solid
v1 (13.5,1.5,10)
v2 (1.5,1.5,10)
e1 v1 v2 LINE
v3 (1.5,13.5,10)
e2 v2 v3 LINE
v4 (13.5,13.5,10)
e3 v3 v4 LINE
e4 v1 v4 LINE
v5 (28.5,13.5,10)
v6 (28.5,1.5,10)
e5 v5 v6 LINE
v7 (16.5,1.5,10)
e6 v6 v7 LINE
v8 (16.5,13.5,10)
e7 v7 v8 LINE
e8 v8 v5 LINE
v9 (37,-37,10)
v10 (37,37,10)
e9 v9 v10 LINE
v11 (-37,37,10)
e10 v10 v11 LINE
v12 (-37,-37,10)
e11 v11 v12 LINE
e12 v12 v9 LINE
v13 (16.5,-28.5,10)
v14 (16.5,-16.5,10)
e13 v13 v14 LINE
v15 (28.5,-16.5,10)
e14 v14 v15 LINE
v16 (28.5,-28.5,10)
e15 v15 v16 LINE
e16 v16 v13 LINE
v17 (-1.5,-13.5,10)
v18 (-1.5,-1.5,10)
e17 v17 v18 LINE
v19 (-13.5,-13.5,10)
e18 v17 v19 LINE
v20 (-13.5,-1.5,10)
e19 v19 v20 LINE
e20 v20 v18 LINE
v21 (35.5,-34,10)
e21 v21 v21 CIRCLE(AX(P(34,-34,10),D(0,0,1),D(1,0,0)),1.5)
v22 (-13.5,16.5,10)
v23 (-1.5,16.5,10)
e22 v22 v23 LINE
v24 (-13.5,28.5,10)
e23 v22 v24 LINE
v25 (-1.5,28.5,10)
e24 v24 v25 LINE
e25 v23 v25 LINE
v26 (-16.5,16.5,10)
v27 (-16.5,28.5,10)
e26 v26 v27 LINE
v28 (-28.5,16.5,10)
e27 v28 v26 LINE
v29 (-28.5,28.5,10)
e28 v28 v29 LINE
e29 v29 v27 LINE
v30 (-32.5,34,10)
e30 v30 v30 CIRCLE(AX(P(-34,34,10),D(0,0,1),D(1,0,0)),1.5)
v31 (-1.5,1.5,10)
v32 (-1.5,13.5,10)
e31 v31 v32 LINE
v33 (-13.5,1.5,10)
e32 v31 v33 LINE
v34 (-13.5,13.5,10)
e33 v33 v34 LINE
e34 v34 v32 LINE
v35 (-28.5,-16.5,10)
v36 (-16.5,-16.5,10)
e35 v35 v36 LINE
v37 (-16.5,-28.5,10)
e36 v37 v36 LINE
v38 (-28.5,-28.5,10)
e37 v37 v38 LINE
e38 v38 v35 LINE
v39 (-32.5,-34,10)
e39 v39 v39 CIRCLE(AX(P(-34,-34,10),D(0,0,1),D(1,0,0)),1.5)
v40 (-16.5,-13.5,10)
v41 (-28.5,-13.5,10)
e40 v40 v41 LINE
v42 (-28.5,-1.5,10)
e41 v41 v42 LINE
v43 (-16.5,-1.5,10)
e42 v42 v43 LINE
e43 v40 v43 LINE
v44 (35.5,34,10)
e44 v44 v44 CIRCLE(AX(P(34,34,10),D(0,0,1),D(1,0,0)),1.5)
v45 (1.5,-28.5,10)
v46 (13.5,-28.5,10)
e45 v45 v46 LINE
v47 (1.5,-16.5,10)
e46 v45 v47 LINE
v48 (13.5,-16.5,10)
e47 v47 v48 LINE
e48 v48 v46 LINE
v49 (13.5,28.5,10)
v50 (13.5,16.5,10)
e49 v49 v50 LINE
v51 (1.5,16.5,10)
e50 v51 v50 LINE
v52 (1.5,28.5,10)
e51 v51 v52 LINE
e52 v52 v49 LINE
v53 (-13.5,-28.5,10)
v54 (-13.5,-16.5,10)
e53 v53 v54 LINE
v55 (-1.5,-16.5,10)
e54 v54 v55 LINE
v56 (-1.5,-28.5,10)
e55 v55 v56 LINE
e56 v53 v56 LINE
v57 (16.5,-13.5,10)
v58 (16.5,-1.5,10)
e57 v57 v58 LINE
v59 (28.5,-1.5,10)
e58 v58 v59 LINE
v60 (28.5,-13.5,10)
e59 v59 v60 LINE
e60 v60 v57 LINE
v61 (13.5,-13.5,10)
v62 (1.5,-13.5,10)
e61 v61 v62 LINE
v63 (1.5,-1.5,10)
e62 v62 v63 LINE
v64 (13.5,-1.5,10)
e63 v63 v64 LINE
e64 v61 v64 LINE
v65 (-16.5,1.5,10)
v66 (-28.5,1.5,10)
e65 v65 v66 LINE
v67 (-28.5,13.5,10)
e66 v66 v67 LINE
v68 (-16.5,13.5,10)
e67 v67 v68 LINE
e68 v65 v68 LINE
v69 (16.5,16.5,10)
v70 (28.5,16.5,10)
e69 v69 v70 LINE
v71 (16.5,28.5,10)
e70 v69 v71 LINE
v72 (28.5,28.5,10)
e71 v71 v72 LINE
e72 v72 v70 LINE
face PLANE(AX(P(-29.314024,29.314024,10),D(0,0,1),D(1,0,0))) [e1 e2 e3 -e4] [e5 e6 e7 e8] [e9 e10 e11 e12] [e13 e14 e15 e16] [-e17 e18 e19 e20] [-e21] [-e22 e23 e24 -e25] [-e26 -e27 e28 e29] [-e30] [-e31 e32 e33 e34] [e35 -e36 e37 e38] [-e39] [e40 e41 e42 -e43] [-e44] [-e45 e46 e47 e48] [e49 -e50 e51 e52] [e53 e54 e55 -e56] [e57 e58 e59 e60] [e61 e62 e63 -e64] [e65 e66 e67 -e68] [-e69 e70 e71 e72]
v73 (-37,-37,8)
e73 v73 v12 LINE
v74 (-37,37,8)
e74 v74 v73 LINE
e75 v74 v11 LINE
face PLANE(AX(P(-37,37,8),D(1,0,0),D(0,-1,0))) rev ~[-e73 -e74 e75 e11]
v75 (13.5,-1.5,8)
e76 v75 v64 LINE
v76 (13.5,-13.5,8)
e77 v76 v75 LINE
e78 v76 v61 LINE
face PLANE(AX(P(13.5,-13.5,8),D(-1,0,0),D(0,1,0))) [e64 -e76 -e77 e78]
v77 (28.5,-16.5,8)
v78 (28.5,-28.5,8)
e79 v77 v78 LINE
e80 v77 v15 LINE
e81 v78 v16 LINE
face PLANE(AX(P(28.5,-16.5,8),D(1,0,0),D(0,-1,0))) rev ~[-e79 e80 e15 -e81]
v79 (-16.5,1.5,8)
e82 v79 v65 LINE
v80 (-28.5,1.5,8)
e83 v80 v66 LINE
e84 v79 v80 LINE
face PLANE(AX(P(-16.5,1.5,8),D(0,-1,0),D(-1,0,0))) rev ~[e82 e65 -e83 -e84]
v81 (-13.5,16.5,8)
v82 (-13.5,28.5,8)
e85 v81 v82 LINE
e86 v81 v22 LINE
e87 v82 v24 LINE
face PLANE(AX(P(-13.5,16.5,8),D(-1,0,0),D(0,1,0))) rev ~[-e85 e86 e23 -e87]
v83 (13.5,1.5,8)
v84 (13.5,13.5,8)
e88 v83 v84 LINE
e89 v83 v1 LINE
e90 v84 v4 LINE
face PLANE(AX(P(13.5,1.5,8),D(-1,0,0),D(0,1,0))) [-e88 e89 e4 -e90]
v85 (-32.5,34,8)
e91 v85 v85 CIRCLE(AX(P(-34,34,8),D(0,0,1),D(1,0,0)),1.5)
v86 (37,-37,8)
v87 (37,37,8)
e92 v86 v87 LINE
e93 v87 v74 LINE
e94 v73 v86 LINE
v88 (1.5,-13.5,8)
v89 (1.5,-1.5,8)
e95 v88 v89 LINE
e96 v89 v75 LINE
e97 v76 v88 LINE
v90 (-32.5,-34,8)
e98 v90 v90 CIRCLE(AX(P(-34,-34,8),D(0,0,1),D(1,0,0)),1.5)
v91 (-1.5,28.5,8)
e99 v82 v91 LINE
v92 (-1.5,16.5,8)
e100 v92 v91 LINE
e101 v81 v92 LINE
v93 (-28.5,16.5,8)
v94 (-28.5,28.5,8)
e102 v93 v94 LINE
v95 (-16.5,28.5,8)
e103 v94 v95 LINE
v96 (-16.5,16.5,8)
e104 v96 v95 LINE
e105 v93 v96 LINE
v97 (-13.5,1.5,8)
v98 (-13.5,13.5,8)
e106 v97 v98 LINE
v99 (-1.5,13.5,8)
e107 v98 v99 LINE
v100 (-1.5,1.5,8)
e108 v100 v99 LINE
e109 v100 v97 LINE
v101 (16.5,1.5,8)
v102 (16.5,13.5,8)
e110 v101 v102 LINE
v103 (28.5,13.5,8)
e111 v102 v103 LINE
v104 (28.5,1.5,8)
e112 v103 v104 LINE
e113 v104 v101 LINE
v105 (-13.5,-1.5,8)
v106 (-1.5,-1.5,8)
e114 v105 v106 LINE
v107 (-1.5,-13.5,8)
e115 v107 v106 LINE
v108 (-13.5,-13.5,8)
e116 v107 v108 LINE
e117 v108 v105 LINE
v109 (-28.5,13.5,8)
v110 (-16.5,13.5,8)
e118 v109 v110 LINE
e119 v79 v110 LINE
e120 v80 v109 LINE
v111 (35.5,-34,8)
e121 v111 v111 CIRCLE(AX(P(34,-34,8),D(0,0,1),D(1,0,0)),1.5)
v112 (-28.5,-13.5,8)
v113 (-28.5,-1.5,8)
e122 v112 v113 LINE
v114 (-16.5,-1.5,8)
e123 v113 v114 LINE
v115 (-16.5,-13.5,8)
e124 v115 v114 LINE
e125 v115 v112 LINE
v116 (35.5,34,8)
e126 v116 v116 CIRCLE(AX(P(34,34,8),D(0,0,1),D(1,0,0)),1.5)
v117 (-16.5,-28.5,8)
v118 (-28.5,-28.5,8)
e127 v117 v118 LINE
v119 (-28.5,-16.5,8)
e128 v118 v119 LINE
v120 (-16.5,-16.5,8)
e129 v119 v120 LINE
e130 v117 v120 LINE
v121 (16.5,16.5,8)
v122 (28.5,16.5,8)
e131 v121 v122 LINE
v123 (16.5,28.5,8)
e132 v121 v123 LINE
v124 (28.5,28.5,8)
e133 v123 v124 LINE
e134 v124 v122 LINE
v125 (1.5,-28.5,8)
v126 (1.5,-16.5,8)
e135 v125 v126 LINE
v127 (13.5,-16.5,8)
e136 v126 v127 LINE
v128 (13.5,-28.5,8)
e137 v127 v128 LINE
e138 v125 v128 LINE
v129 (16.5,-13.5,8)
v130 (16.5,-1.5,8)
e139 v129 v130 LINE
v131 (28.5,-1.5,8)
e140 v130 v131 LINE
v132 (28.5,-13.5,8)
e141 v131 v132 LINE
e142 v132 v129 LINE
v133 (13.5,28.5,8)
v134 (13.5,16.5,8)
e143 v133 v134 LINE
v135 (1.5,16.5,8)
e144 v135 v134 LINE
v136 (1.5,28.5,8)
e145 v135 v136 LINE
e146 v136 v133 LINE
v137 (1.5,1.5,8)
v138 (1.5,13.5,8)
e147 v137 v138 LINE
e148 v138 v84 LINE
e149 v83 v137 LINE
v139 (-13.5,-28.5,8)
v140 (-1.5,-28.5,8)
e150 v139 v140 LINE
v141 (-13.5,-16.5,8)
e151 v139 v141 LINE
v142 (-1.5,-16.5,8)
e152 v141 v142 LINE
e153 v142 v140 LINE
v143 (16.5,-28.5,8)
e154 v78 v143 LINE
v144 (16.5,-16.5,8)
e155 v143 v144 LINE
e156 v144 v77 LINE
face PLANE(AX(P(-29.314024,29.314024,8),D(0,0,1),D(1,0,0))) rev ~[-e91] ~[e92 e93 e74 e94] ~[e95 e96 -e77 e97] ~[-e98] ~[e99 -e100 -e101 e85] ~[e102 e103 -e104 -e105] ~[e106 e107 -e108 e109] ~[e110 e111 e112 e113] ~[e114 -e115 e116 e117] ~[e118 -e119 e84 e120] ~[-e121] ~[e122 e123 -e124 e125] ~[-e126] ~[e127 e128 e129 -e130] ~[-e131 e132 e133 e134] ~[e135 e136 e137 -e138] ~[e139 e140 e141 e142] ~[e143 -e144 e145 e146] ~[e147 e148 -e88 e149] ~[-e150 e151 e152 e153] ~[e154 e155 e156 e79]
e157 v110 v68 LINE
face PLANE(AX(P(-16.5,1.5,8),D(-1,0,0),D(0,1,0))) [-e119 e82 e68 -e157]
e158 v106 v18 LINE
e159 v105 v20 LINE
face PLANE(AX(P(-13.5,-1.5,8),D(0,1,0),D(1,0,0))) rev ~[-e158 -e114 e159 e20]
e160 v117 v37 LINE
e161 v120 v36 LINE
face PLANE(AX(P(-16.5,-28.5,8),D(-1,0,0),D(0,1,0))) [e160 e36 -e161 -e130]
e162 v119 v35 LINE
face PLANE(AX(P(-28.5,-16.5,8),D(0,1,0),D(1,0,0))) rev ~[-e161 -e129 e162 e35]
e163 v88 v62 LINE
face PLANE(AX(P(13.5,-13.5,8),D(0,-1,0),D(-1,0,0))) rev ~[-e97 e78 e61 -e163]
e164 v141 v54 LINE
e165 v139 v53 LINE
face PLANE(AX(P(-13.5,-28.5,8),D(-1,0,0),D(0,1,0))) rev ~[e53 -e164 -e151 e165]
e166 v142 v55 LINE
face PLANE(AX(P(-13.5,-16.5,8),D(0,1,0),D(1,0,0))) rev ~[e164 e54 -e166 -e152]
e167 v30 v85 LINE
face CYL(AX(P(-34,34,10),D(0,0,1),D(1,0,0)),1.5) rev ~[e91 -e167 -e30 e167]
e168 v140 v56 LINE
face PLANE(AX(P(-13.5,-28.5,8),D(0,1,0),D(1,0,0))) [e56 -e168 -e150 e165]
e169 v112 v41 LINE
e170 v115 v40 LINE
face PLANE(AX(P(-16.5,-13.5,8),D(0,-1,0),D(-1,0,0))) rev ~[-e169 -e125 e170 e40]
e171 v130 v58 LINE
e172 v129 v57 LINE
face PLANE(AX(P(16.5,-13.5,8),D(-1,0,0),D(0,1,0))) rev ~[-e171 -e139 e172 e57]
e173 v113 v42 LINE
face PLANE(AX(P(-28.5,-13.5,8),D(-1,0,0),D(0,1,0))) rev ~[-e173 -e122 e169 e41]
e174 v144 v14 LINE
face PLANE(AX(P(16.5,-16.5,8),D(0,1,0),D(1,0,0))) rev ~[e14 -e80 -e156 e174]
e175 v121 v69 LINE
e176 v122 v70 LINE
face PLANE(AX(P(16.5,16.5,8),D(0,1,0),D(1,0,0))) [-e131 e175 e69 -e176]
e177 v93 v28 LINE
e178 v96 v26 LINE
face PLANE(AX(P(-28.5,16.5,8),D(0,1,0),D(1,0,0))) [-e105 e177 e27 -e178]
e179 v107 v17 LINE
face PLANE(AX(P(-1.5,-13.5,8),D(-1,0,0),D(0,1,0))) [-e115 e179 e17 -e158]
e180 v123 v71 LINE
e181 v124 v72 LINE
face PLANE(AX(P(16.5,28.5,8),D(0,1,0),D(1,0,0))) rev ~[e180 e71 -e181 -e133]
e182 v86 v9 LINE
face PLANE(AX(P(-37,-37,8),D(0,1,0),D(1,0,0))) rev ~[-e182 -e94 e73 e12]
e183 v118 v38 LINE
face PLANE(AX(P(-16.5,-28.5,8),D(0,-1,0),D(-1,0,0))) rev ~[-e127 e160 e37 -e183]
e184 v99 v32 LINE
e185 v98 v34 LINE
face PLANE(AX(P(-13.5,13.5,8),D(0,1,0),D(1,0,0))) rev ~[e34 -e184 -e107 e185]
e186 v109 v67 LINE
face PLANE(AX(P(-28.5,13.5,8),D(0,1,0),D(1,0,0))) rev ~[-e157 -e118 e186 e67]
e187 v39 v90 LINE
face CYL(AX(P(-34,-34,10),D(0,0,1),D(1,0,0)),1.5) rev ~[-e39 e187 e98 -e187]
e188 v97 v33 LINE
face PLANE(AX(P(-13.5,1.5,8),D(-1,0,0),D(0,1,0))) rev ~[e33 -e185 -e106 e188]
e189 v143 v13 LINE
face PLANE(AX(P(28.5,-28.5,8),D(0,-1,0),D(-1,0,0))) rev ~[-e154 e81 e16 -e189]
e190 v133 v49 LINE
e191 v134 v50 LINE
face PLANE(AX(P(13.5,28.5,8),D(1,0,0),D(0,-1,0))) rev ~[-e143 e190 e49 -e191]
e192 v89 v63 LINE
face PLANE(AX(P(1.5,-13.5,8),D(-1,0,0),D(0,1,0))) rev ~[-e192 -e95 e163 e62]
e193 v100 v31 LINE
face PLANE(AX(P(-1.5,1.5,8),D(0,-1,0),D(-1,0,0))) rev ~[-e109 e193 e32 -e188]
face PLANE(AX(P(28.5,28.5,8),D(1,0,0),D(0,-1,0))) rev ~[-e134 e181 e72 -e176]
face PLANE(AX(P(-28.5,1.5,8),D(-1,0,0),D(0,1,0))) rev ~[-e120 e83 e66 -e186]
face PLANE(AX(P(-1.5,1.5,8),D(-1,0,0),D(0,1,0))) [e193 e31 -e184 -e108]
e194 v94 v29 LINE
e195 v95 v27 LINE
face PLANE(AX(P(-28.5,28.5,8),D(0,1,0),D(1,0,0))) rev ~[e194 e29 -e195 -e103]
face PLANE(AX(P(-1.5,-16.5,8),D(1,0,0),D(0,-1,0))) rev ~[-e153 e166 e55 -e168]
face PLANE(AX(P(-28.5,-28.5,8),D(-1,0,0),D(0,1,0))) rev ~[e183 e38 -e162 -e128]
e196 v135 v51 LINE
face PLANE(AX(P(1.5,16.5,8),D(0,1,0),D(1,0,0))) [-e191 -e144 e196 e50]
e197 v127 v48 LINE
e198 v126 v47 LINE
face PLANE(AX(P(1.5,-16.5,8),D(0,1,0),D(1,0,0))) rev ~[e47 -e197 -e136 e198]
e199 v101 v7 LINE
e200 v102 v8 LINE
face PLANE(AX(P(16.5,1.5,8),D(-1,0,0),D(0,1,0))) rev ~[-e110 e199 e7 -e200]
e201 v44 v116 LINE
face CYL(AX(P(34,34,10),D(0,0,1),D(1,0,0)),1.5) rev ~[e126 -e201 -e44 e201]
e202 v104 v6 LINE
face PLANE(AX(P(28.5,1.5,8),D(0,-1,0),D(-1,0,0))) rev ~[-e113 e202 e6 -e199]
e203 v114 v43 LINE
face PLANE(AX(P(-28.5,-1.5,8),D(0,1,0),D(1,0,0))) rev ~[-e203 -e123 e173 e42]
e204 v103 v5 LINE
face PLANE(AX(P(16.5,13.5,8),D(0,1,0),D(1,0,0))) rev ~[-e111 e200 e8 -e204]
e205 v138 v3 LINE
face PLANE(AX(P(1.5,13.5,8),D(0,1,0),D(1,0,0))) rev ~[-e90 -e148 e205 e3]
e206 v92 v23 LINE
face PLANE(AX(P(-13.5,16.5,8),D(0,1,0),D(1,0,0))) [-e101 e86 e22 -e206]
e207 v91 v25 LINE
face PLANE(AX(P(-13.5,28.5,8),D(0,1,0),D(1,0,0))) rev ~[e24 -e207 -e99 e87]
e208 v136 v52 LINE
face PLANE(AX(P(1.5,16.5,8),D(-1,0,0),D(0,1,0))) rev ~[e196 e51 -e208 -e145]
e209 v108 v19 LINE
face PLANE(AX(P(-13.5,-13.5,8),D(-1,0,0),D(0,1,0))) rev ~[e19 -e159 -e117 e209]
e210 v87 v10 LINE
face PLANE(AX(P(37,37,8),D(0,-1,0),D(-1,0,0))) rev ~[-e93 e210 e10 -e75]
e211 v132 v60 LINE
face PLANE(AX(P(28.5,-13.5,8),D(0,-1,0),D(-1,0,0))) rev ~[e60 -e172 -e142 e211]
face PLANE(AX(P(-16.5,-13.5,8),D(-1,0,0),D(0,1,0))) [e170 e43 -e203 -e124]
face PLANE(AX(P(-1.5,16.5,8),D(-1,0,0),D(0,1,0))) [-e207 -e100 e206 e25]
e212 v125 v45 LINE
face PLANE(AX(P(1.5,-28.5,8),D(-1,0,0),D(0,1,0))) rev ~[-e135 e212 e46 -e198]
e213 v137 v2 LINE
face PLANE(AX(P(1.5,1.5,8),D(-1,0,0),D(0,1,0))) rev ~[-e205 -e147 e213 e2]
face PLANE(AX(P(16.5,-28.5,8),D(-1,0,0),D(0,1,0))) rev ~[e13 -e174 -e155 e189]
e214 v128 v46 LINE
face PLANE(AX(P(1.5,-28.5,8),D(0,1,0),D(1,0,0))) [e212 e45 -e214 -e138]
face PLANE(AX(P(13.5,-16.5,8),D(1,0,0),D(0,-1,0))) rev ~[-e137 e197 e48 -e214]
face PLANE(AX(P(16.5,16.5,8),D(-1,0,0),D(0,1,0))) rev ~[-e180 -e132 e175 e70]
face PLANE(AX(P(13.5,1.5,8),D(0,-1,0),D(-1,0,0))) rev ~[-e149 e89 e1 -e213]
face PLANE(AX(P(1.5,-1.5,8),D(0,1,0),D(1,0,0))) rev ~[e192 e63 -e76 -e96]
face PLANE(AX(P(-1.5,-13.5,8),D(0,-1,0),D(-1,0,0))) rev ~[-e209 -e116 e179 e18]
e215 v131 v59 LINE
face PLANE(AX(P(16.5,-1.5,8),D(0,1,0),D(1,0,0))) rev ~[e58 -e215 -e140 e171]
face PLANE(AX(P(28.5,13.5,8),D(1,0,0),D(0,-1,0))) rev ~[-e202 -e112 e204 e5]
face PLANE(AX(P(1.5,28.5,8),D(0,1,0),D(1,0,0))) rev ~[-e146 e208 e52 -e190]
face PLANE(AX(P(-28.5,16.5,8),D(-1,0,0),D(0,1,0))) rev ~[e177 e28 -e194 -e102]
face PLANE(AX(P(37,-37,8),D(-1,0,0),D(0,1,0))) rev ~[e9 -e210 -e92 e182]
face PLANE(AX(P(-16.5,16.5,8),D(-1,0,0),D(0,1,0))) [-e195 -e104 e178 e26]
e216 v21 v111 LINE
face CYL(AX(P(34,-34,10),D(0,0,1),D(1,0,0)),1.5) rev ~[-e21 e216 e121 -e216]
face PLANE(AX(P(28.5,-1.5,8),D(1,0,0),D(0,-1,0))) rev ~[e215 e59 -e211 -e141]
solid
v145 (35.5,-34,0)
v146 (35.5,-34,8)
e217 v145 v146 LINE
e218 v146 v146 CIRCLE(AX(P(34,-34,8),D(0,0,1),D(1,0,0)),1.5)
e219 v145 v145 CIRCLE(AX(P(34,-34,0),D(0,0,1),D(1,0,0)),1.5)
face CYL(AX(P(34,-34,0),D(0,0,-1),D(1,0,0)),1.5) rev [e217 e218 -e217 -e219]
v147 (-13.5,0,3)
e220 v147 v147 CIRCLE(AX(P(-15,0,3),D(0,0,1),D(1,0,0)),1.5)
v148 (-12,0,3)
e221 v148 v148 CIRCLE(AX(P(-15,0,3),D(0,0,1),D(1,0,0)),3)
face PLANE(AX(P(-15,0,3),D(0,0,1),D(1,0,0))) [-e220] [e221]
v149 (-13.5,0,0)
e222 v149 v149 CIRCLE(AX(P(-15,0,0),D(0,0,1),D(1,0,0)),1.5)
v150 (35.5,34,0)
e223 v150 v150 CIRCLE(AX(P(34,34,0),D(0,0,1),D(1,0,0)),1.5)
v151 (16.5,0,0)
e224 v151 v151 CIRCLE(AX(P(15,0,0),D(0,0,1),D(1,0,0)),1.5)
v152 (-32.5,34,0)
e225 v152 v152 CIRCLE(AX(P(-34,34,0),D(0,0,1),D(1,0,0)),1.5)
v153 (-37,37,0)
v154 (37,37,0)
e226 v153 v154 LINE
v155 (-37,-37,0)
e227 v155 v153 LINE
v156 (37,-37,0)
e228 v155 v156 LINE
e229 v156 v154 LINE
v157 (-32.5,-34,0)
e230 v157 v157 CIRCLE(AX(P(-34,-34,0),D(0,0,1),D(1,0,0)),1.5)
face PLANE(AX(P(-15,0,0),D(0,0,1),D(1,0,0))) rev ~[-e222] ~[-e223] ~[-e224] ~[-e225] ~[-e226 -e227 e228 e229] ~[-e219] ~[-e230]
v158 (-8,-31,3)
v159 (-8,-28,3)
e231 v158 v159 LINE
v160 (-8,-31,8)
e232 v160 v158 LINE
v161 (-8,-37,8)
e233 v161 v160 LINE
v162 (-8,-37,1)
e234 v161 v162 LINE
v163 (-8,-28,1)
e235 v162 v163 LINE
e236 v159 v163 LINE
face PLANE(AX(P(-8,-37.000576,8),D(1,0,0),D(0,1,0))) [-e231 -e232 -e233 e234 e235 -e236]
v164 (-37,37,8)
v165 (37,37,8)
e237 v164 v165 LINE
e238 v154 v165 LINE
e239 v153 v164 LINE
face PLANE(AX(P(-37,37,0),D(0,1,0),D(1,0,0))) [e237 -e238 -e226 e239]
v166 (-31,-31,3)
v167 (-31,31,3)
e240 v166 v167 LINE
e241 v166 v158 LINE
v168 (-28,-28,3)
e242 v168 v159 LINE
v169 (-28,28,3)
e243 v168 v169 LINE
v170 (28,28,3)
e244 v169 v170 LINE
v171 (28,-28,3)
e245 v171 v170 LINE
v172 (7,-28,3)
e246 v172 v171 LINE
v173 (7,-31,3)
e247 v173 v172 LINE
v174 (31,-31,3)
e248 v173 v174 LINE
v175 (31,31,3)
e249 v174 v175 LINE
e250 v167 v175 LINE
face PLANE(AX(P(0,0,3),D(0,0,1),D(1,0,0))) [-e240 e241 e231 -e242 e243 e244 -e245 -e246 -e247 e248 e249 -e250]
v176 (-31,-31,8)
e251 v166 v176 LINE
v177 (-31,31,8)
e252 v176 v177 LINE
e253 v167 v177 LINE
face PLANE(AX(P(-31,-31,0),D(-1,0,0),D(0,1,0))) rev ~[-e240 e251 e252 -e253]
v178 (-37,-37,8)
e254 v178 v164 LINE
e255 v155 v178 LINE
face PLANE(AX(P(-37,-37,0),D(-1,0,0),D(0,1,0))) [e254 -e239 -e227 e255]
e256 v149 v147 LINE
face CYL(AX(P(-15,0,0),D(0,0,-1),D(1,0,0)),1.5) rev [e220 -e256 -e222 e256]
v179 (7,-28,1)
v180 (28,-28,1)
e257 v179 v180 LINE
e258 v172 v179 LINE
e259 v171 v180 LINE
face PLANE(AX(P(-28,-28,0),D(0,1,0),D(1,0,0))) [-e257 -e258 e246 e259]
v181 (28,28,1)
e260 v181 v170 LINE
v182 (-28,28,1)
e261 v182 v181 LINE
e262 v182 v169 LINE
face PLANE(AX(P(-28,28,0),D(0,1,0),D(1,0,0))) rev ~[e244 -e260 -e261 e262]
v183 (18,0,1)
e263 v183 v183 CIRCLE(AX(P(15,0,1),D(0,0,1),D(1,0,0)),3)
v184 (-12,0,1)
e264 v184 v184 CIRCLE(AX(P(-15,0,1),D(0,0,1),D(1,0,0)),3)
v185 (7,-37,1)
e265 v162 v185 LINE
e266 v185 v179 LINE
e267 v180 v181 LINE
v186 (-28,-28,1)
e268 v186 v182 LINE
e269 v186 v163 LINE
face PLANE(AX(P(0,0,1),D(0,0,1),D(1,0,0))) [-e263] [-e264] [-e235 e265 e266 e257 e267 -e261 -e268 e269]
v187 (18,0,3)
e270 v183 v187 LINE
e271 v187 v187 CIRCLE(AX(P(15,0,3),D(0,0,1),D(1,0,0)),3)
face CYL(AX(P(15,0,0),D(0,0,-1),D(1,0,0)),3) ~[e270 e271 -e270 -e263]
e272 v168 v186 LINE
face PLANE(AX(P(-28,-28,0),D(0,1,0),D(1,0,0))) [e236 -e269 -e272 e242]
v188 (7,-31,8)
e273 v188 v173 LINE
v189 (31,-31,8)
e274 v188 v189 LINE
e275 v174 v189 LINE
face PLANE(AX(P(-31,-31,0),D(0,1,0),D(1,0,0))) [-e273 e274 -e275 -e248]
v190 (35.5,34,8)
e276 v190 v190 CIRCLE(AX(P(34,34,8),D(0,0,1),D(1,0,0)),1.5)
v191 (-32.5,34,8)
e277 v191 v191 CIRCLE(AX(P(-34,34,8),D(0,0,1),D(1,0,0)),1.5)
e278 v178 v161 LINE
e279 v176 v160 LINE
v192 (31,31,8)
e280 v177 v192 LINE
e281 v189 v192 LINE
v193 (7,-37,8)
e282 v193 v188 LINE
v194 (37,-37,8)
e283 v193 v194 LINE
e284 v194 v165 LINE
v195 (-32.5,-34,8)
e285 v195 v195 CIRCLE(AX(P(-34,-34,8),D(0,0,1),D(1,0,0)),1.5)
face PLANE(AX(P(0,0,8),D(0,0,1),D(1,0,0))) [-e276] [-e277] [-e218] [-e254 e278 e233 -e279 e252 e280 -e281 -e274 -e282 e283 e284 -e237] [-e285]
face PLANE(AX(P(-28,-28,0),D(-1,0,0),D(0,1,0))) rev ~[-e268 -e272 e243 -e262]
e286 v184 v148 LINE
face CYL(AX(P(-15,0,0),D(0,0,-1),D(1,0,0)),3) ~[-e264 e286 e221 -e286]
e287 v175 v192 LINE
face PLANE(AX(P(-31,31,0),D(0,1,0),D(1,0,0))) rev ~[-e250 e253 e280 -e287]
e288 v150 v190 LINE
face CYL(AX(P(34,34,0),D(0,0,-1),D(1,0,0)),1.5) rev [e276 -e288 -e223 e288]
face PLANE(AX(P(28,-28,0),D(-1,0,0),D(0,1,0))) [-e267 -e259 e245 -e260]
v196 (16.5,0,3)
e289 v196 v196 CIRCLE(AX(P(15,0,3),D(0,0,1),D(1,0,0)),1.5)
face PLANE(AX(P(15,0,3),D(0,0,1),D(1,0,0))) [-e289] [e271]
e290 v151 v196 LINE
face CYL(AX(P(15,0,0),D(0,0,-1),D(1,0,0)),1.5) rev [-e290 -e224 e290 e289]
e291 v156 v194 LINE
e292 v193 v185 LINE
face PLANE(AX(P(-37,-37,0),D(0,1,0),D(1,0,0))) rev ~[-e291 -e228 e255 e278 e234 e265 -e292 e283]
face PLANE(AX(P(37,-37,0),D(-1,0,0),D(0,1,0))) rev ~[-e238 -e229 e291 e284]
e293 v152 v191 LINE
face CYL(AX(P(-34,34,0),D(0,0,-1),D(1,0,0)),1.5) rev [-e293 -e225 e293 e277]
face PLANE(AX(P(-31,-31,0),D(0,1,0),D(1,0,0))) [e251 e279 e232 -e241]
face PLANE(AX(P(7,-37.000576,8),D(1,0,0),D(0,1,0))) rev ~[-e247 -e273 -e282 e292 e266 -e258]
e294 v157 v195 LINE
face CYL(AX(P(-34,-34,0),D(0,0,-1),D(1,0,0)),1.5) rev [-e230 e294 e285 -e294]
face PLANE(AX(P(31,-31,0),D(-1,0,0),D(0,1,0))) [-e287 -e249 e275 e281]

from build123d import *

# Parameters (mm, degrees)
F0_W      = 74
F0_H      = 74
F0_R      = 1.5
F0_W_2    = 62
F0_H_2    = 62
F1_DEPTH  = 8
F0_W_3    = 56
F0_H_3    = 56
F2_DEPTH  = 2
F0_R_2    = 3
F3_DEPTH  = 1
F4_DEPTH  = 3
F5_DEPTH  = 3
F7_R      = 1.5
F7_W      = 12
F7_H      = 6
F7_W_2    = 3
F7_H_2    = 2.5
F7_W_3    = 6
F7_H_3    = 3
F7_W_4    = 2.5
F7_H_4    = 12
F8_DEPTH  = 2
F9_R      = 1.5
F10_DEPTH = 2
F6_W      = 7.5
F6_H      = 9.0005761179
F11_DEPTH = 7


with BuildPart() as f1:
    # F0 (on Top) → F1 (new body)
    with BuildSketch(Plane.XY):
        Rectangle(F0_W, F0_H)
        with Locations((-34, -34)):
            Circle(F0_R, mode=Mode.SUBTRACT)
        with Locations((34, -34)):
            Circle(F0_R, mode=Mode.SUBTRACT)
        with Locations((-34, 34)):
            Circle(F0_R, mode=Mode.SUBTRACT)
        Rectangle(F0_W_2, F0_H_2, mode=Mode.SUBTRACT)
        with Locations((34, 34)):
            Circle(F0_R, mode=Mode.SUBTRACT)
    extrude(amount=F1_DEPTH)

    # F0 (on Top) → F2 (join)
    with BuildSketch(Plane.XY):
        Rectangle(F0_W_2, F0_H_2)
        Rectangle(F0_W_3, F0_H_3, mode=Mode.SUBTRACT)
    extrude(amount=F2_DEPTH)

    # F0 (on Top) → F3 (join)
    with BuildSketch(Plane.XY):
        Rectangle(F0_W_3, F0_H_3)
        with Locations((-15, 0)):
            Circle(F0_R_2, mode=Mode.SUBTRACT)
        with Locations((15, 0)):
            Circle(F0_R_2, mode=Mode.SUBTRACT)
    extrude(amount=F3_DEPTH)

    # F0 (on Top) → F4 (join)
    with BuildSketch(Plane.XY):
        with Locations((-15, 0)):
            Circle(F0_R_2)
        with Locations((-15, 0)):
            Circle(F0_R, mode=Mode.SUBTRACT)
        with Locations((15, 0)):
            Circle(F0_R_2)
        with Locations((15, 0)):
            Circle(F0_R, mode=Mode.SUBTRACT)
    extrude(amount=F4_DEPTH)

    # F0 (on Top) → F5 (join)
    with BuildSketch(Plane.XY):
        Rectangle(F0_W_2, F0_H_2)
        Rectangle(F0_W_3, F0_H_3, mode=Mode.SUBTRACT)
    extrude(amount=F5_DEPTH)

    # F6 (on face) → F11 (cut)
    with BuildSketch(Plane.XY.offset(8)):
        with Locations((3.25, -32.500288059)):
            Rectangle(F6_W, F6_H)
        with Locations((-4.25, -32.500288059)):
            Rectangle(F6_W, F6_H)
    extrude(amount=-F11_DEPTH, mode=Mode.SUBTRACT)


with BuildPart() as f8:
    # F7 (on face) → F8 (new body)
    with BuildSketch(Plane.XY.offset(8)):
        Polygon((-16.5, 37), (-37, 37), (-37, 16.5), (-31, 16.5), (-31, 31), (-16.5, 31), align=None)
        with Locations((-34, 34)):
            Circle(F7_R, mode=Mode.SUBTRACT)
        with Locations((-7.5, 34)):
            Rectangle(F7_W, F7_H)
        with Locations((-15, 34)):
            Rectangle(F7_W_2, F7_H)
        with Locations((0, 34)):
            Rectangle(F7_W_2, F7_H)
        with Locations((7.5, 34)):
            Rectangle(F7_W, F7_H)
        with Locations((15, 34)):
            Rectangle(F7_W_2, F7_H)
        Polygon((37, 37), (16.5, 37), (16.5, 31), (31, 31), (31, 16.5), (37, 16.5), align=None)
        with Locations((34, 34)):
            Circle(F7_R, mode=Mode.SUBTRACT)
        Polygon((31, 31), (16.5, 31), (16.5, 28.5), (28.5, 28.5), (28.5, 16.5), (31, 16.5), align=None)
        with Locations((15, 29.75)):
            Rectangle(F7_W_2, F7_H_2)
        with Locations((7.5, 29.75)):
            Rectangle(F7_W, F7_H_2)
        with Locations((0, 29.75)):
            Rectangle(F7_W_2, F7_H_2)
        with Locations((-7.5, 29.75)):
            Rectangle(F7_W, F7_H_2)
        with Locations((-15, 29.75)):
            Rectangle(F7_W_2, F7_H_2)
        Polygon((-16.5, 28.5), (-16.5, 31), (-31, 31), (-31, 16.5), (-28.5, 16.5), (-28.5, 28.5), align=None)
        with Locations((-34, 15)):
            Rectangle(F7_W_3, F7_H_3)
        with Locations((-29.75, 15)):
            Rectangle(F7_W_4, F7_H_3)
        with Locations((-34, 0)):
            Rectangle(F7_W_3, F7_H_3)
        with Locations((-29.75, 0)):
            Rectangle(F7_W_4, F7_H_3)
        with Locations((-34, 7.5)):
            Rectangle(F7_W_3, F7_H_4)
        with Locations((-29.75, 7.5)):
            Rectangle(F7_W_4, F7_H_4)
        with Locations((-34, -7.5)):
            Rectangle(F7_W_3, F7_H_4)
        with Locations((-29.75, -7.5)):
            Rectangle(F7_W_4, F7_H_4)
        with Locations((-34, -15)):
            Rectangle(F7_W_3, F7_H_3)
        with Locations((-29.75, -15)):
            Rectangle(F7_W_4, F7_H_3)
        Polygon((-31, -16.5), (-37, -16.5), (-37, -37), (-16.5, -37), (-16.5, -31), (-31, -31), align=None)
        with Locations((-34, -34)):
            Circle(F7_R, mode=Mode.SUBTRACT)
        Polygon((-28.5, -16.5), (-31, -16.5), (-31, -31), (-16.5, -31), (-16.5, -28.5), (-28.5, -28.5), align=None)
        with Locations((-15, -34)):
            Rectangle(F7_W_2, F7_H)
        with Locations((-15, -29.75)):
            Rectangle(F7_W_2, F7_H_2)
        with Locations((0, -34)):
            Rectangle(F7_W_2, F7_H)
        with Locations((15, -34)):
            Rectangle(F7_W_2, F7_H)
        with Locations((15, -29.75)):
            Rectangle(F7_W_2, F7_H_2)
        Polygon((37, -37), (37, -16.5), (31, -16.5), (31, -31), (16.5, -31), (16.5, -37), align=None)
        with Locations((34, -34)):
            Circle(F7_R, mode=Mode.SUBTRACT)
        with Locations((34, -34)):
            Circle(F7_R)
        Polygon((31, -31), (31, -16.5), (28.5, -16.5), (28.5, -28.5), (16.5, -28.5), (16.5, -31), align=None)
        with Locations((34, -15)):
            Rectangle(F7_W_3, F7_H_3)
        with Locations((29.75, -15)):
            Rectangle(F7_W_4, F7_H_3)
        with Locations((34, -7.5)):
            Rectangle(F7_W_3, F7_H_4)
        with Locations((29.75, -7.5)):
            Rectangle(F7_W_4, F7_H_4)
        with Locations((29.75, 0)):
            Rectangle(F7_W_4, F7_H_3)
        with Locations((34, 0)):
            Rectangle(F7_W_3, F7_H_3)
        with Locations((34, 7.5)):
            Rectangle(F7_W_3, F7_H_4)
        with Locations((29.75, 7.5)):
            Rectangle(F7_W_4, F7_H_4)
        with Locations((34, 15)):
            Rectangle(F7_W_3, F7_H_3)
        with Locations((29.75, 15)):
            Rectangle(F7_W_4, F7_H_3)
        with Locations((22.5, 15)):
            Rectangle(F7_W, F7_H_3)
        with Locations((15, 22.5)):
            Rectangle(F7_W_2, F7_H_4)
        with Locations((15, 15)):
            Rectangle(F7_W_2, F7_H_3)
        with Locations((-22.5, 15)):
            Rectangle(F7_W, F7_H_3)
        with Locations((-15, 22.5)):
            Rectangle(F7_W_2, F7_H_4)
        with Locations((-15, 15)):
            Rectangle(F7_W_2, F7_H_3)
        with Locations((-7.5, 15)):
            Rectangle(F7_W, F7_H_3)
        with Locations((0, 22.5)):
            Rectangle(F7_W_2, F7_H_4)
        with Locations((0, 15)):
            Rectangle(F7_W_2, F7_H_3)
        with Locations((-22.5, 0)):
            Rectangle(F7_W, F7_H_3)
        with Locations((-15, 0)):
            Rectangle(F7_W_2, F7_H_3)
        with Locations((-7.5, 0)):
            Rectangle(F7_W, F7_H_3)
        Rectangle(F7_W_2, F7_H_3)
        with Locations((7.5, 0)):
            Rectangle(F7_W, F7_H_3)
        with Locations((15, 0)):
            Rectangle(F7_W_2, F7_H_3)
        with Locations((22.5, 0)):
            Rectangle(F7_W, F7_H_3)
        with Locations((7.5, 15)):
            Rectangle(F7_W, F7_H_3)
        with Locations((15, 7.5)):
            Rectangle(F7_W_2, F7_H_4)
        with Locations((0, 7.5)):
            Rectangle(F7_W_2, F7_H_4)
        with Locations((-15, 7.5)):
            Rectangle(F7_W_2, F7_H_4)
        with Locations((-22.5, -15)):
            Rectangle(F7_W, F7_H_3)
        with Locations((-15, -22.5)):
            Rectangle(F7_W_2, F7_H_4)
        with Locations((-15, -15)):
            Rectangle(F7_W_2, F7_H_3)
        with Locations((0, -22.5)):
            Rectangle(F7_W_2, F7_H_4)
        with Locations((0, -15)):
            Rectangle(F7_W_2, F7_H_3)
        with Locations((7.5, -15)):
            Rectangle(F7_W, F7_H_3)
        with Locations((-7.5, -15)):
            Rectangle(F7_W, F7_H_3)
        with Locations((15, -22.5)):
            Rectangle(F7_W_2, F7_H_4)
        with Locations((15, -15)):
            Rectangle(F7_W_2, F7_H_3)
        with Locations((22.5, -15)):
            Rectangle(F7_W, F7_H_3)
        with Locations((15, -7.5)):
            Rectangle(F7_W_2, F7_H_4)
        with Locations((0, -7.5)):
            Rectangle(F7_W_2, F7_H_4)
        with Locations((-15, -7.5)):
            Rectangle(F7_W_2, F7_H_4)
        with Locations((-34, -34)):
            Circle(F7_R)
        with Locations((-34, 34)):
            Circle(F7_R)
        with Locations((34, 34)):
            Circle(F7_R)
        with Locations((-7.5, -34)):
            Rectangle(F7_W, F7_H)
        with Locations((7.5, -34)):
            Rectangle(F7_W, F7_H)
        with Locations((7.5, -29.75)):
            Rectangle(F7_W, F7_H_2)
        with Locations((0, -29.75)):
            Rectangle(F7_W_2, F7_H_2)
        with Locations((-7.5, -29.75)):
            Rectangle(F7_W, F7_H_2)
    extrude(amount=F8_DEPTH)

    # F9 (on face) → F10 (cut)
    with BuildSketch(Plane.XY.offset(10)):
        with Locations((-34, -34)):
            Circle(F9_R)
        with Locations((34, -34)):
            Circle(F9_R)
        with Locations((34, 34)):
            Circle(F9_R)
        with Locations((-34, 34)):
            Circle(F9_R)
    extrude(amount=-F10_DEPTH, mode=Mode.SUBTRACT)


solid = Compound([f1.part, f8.part])
